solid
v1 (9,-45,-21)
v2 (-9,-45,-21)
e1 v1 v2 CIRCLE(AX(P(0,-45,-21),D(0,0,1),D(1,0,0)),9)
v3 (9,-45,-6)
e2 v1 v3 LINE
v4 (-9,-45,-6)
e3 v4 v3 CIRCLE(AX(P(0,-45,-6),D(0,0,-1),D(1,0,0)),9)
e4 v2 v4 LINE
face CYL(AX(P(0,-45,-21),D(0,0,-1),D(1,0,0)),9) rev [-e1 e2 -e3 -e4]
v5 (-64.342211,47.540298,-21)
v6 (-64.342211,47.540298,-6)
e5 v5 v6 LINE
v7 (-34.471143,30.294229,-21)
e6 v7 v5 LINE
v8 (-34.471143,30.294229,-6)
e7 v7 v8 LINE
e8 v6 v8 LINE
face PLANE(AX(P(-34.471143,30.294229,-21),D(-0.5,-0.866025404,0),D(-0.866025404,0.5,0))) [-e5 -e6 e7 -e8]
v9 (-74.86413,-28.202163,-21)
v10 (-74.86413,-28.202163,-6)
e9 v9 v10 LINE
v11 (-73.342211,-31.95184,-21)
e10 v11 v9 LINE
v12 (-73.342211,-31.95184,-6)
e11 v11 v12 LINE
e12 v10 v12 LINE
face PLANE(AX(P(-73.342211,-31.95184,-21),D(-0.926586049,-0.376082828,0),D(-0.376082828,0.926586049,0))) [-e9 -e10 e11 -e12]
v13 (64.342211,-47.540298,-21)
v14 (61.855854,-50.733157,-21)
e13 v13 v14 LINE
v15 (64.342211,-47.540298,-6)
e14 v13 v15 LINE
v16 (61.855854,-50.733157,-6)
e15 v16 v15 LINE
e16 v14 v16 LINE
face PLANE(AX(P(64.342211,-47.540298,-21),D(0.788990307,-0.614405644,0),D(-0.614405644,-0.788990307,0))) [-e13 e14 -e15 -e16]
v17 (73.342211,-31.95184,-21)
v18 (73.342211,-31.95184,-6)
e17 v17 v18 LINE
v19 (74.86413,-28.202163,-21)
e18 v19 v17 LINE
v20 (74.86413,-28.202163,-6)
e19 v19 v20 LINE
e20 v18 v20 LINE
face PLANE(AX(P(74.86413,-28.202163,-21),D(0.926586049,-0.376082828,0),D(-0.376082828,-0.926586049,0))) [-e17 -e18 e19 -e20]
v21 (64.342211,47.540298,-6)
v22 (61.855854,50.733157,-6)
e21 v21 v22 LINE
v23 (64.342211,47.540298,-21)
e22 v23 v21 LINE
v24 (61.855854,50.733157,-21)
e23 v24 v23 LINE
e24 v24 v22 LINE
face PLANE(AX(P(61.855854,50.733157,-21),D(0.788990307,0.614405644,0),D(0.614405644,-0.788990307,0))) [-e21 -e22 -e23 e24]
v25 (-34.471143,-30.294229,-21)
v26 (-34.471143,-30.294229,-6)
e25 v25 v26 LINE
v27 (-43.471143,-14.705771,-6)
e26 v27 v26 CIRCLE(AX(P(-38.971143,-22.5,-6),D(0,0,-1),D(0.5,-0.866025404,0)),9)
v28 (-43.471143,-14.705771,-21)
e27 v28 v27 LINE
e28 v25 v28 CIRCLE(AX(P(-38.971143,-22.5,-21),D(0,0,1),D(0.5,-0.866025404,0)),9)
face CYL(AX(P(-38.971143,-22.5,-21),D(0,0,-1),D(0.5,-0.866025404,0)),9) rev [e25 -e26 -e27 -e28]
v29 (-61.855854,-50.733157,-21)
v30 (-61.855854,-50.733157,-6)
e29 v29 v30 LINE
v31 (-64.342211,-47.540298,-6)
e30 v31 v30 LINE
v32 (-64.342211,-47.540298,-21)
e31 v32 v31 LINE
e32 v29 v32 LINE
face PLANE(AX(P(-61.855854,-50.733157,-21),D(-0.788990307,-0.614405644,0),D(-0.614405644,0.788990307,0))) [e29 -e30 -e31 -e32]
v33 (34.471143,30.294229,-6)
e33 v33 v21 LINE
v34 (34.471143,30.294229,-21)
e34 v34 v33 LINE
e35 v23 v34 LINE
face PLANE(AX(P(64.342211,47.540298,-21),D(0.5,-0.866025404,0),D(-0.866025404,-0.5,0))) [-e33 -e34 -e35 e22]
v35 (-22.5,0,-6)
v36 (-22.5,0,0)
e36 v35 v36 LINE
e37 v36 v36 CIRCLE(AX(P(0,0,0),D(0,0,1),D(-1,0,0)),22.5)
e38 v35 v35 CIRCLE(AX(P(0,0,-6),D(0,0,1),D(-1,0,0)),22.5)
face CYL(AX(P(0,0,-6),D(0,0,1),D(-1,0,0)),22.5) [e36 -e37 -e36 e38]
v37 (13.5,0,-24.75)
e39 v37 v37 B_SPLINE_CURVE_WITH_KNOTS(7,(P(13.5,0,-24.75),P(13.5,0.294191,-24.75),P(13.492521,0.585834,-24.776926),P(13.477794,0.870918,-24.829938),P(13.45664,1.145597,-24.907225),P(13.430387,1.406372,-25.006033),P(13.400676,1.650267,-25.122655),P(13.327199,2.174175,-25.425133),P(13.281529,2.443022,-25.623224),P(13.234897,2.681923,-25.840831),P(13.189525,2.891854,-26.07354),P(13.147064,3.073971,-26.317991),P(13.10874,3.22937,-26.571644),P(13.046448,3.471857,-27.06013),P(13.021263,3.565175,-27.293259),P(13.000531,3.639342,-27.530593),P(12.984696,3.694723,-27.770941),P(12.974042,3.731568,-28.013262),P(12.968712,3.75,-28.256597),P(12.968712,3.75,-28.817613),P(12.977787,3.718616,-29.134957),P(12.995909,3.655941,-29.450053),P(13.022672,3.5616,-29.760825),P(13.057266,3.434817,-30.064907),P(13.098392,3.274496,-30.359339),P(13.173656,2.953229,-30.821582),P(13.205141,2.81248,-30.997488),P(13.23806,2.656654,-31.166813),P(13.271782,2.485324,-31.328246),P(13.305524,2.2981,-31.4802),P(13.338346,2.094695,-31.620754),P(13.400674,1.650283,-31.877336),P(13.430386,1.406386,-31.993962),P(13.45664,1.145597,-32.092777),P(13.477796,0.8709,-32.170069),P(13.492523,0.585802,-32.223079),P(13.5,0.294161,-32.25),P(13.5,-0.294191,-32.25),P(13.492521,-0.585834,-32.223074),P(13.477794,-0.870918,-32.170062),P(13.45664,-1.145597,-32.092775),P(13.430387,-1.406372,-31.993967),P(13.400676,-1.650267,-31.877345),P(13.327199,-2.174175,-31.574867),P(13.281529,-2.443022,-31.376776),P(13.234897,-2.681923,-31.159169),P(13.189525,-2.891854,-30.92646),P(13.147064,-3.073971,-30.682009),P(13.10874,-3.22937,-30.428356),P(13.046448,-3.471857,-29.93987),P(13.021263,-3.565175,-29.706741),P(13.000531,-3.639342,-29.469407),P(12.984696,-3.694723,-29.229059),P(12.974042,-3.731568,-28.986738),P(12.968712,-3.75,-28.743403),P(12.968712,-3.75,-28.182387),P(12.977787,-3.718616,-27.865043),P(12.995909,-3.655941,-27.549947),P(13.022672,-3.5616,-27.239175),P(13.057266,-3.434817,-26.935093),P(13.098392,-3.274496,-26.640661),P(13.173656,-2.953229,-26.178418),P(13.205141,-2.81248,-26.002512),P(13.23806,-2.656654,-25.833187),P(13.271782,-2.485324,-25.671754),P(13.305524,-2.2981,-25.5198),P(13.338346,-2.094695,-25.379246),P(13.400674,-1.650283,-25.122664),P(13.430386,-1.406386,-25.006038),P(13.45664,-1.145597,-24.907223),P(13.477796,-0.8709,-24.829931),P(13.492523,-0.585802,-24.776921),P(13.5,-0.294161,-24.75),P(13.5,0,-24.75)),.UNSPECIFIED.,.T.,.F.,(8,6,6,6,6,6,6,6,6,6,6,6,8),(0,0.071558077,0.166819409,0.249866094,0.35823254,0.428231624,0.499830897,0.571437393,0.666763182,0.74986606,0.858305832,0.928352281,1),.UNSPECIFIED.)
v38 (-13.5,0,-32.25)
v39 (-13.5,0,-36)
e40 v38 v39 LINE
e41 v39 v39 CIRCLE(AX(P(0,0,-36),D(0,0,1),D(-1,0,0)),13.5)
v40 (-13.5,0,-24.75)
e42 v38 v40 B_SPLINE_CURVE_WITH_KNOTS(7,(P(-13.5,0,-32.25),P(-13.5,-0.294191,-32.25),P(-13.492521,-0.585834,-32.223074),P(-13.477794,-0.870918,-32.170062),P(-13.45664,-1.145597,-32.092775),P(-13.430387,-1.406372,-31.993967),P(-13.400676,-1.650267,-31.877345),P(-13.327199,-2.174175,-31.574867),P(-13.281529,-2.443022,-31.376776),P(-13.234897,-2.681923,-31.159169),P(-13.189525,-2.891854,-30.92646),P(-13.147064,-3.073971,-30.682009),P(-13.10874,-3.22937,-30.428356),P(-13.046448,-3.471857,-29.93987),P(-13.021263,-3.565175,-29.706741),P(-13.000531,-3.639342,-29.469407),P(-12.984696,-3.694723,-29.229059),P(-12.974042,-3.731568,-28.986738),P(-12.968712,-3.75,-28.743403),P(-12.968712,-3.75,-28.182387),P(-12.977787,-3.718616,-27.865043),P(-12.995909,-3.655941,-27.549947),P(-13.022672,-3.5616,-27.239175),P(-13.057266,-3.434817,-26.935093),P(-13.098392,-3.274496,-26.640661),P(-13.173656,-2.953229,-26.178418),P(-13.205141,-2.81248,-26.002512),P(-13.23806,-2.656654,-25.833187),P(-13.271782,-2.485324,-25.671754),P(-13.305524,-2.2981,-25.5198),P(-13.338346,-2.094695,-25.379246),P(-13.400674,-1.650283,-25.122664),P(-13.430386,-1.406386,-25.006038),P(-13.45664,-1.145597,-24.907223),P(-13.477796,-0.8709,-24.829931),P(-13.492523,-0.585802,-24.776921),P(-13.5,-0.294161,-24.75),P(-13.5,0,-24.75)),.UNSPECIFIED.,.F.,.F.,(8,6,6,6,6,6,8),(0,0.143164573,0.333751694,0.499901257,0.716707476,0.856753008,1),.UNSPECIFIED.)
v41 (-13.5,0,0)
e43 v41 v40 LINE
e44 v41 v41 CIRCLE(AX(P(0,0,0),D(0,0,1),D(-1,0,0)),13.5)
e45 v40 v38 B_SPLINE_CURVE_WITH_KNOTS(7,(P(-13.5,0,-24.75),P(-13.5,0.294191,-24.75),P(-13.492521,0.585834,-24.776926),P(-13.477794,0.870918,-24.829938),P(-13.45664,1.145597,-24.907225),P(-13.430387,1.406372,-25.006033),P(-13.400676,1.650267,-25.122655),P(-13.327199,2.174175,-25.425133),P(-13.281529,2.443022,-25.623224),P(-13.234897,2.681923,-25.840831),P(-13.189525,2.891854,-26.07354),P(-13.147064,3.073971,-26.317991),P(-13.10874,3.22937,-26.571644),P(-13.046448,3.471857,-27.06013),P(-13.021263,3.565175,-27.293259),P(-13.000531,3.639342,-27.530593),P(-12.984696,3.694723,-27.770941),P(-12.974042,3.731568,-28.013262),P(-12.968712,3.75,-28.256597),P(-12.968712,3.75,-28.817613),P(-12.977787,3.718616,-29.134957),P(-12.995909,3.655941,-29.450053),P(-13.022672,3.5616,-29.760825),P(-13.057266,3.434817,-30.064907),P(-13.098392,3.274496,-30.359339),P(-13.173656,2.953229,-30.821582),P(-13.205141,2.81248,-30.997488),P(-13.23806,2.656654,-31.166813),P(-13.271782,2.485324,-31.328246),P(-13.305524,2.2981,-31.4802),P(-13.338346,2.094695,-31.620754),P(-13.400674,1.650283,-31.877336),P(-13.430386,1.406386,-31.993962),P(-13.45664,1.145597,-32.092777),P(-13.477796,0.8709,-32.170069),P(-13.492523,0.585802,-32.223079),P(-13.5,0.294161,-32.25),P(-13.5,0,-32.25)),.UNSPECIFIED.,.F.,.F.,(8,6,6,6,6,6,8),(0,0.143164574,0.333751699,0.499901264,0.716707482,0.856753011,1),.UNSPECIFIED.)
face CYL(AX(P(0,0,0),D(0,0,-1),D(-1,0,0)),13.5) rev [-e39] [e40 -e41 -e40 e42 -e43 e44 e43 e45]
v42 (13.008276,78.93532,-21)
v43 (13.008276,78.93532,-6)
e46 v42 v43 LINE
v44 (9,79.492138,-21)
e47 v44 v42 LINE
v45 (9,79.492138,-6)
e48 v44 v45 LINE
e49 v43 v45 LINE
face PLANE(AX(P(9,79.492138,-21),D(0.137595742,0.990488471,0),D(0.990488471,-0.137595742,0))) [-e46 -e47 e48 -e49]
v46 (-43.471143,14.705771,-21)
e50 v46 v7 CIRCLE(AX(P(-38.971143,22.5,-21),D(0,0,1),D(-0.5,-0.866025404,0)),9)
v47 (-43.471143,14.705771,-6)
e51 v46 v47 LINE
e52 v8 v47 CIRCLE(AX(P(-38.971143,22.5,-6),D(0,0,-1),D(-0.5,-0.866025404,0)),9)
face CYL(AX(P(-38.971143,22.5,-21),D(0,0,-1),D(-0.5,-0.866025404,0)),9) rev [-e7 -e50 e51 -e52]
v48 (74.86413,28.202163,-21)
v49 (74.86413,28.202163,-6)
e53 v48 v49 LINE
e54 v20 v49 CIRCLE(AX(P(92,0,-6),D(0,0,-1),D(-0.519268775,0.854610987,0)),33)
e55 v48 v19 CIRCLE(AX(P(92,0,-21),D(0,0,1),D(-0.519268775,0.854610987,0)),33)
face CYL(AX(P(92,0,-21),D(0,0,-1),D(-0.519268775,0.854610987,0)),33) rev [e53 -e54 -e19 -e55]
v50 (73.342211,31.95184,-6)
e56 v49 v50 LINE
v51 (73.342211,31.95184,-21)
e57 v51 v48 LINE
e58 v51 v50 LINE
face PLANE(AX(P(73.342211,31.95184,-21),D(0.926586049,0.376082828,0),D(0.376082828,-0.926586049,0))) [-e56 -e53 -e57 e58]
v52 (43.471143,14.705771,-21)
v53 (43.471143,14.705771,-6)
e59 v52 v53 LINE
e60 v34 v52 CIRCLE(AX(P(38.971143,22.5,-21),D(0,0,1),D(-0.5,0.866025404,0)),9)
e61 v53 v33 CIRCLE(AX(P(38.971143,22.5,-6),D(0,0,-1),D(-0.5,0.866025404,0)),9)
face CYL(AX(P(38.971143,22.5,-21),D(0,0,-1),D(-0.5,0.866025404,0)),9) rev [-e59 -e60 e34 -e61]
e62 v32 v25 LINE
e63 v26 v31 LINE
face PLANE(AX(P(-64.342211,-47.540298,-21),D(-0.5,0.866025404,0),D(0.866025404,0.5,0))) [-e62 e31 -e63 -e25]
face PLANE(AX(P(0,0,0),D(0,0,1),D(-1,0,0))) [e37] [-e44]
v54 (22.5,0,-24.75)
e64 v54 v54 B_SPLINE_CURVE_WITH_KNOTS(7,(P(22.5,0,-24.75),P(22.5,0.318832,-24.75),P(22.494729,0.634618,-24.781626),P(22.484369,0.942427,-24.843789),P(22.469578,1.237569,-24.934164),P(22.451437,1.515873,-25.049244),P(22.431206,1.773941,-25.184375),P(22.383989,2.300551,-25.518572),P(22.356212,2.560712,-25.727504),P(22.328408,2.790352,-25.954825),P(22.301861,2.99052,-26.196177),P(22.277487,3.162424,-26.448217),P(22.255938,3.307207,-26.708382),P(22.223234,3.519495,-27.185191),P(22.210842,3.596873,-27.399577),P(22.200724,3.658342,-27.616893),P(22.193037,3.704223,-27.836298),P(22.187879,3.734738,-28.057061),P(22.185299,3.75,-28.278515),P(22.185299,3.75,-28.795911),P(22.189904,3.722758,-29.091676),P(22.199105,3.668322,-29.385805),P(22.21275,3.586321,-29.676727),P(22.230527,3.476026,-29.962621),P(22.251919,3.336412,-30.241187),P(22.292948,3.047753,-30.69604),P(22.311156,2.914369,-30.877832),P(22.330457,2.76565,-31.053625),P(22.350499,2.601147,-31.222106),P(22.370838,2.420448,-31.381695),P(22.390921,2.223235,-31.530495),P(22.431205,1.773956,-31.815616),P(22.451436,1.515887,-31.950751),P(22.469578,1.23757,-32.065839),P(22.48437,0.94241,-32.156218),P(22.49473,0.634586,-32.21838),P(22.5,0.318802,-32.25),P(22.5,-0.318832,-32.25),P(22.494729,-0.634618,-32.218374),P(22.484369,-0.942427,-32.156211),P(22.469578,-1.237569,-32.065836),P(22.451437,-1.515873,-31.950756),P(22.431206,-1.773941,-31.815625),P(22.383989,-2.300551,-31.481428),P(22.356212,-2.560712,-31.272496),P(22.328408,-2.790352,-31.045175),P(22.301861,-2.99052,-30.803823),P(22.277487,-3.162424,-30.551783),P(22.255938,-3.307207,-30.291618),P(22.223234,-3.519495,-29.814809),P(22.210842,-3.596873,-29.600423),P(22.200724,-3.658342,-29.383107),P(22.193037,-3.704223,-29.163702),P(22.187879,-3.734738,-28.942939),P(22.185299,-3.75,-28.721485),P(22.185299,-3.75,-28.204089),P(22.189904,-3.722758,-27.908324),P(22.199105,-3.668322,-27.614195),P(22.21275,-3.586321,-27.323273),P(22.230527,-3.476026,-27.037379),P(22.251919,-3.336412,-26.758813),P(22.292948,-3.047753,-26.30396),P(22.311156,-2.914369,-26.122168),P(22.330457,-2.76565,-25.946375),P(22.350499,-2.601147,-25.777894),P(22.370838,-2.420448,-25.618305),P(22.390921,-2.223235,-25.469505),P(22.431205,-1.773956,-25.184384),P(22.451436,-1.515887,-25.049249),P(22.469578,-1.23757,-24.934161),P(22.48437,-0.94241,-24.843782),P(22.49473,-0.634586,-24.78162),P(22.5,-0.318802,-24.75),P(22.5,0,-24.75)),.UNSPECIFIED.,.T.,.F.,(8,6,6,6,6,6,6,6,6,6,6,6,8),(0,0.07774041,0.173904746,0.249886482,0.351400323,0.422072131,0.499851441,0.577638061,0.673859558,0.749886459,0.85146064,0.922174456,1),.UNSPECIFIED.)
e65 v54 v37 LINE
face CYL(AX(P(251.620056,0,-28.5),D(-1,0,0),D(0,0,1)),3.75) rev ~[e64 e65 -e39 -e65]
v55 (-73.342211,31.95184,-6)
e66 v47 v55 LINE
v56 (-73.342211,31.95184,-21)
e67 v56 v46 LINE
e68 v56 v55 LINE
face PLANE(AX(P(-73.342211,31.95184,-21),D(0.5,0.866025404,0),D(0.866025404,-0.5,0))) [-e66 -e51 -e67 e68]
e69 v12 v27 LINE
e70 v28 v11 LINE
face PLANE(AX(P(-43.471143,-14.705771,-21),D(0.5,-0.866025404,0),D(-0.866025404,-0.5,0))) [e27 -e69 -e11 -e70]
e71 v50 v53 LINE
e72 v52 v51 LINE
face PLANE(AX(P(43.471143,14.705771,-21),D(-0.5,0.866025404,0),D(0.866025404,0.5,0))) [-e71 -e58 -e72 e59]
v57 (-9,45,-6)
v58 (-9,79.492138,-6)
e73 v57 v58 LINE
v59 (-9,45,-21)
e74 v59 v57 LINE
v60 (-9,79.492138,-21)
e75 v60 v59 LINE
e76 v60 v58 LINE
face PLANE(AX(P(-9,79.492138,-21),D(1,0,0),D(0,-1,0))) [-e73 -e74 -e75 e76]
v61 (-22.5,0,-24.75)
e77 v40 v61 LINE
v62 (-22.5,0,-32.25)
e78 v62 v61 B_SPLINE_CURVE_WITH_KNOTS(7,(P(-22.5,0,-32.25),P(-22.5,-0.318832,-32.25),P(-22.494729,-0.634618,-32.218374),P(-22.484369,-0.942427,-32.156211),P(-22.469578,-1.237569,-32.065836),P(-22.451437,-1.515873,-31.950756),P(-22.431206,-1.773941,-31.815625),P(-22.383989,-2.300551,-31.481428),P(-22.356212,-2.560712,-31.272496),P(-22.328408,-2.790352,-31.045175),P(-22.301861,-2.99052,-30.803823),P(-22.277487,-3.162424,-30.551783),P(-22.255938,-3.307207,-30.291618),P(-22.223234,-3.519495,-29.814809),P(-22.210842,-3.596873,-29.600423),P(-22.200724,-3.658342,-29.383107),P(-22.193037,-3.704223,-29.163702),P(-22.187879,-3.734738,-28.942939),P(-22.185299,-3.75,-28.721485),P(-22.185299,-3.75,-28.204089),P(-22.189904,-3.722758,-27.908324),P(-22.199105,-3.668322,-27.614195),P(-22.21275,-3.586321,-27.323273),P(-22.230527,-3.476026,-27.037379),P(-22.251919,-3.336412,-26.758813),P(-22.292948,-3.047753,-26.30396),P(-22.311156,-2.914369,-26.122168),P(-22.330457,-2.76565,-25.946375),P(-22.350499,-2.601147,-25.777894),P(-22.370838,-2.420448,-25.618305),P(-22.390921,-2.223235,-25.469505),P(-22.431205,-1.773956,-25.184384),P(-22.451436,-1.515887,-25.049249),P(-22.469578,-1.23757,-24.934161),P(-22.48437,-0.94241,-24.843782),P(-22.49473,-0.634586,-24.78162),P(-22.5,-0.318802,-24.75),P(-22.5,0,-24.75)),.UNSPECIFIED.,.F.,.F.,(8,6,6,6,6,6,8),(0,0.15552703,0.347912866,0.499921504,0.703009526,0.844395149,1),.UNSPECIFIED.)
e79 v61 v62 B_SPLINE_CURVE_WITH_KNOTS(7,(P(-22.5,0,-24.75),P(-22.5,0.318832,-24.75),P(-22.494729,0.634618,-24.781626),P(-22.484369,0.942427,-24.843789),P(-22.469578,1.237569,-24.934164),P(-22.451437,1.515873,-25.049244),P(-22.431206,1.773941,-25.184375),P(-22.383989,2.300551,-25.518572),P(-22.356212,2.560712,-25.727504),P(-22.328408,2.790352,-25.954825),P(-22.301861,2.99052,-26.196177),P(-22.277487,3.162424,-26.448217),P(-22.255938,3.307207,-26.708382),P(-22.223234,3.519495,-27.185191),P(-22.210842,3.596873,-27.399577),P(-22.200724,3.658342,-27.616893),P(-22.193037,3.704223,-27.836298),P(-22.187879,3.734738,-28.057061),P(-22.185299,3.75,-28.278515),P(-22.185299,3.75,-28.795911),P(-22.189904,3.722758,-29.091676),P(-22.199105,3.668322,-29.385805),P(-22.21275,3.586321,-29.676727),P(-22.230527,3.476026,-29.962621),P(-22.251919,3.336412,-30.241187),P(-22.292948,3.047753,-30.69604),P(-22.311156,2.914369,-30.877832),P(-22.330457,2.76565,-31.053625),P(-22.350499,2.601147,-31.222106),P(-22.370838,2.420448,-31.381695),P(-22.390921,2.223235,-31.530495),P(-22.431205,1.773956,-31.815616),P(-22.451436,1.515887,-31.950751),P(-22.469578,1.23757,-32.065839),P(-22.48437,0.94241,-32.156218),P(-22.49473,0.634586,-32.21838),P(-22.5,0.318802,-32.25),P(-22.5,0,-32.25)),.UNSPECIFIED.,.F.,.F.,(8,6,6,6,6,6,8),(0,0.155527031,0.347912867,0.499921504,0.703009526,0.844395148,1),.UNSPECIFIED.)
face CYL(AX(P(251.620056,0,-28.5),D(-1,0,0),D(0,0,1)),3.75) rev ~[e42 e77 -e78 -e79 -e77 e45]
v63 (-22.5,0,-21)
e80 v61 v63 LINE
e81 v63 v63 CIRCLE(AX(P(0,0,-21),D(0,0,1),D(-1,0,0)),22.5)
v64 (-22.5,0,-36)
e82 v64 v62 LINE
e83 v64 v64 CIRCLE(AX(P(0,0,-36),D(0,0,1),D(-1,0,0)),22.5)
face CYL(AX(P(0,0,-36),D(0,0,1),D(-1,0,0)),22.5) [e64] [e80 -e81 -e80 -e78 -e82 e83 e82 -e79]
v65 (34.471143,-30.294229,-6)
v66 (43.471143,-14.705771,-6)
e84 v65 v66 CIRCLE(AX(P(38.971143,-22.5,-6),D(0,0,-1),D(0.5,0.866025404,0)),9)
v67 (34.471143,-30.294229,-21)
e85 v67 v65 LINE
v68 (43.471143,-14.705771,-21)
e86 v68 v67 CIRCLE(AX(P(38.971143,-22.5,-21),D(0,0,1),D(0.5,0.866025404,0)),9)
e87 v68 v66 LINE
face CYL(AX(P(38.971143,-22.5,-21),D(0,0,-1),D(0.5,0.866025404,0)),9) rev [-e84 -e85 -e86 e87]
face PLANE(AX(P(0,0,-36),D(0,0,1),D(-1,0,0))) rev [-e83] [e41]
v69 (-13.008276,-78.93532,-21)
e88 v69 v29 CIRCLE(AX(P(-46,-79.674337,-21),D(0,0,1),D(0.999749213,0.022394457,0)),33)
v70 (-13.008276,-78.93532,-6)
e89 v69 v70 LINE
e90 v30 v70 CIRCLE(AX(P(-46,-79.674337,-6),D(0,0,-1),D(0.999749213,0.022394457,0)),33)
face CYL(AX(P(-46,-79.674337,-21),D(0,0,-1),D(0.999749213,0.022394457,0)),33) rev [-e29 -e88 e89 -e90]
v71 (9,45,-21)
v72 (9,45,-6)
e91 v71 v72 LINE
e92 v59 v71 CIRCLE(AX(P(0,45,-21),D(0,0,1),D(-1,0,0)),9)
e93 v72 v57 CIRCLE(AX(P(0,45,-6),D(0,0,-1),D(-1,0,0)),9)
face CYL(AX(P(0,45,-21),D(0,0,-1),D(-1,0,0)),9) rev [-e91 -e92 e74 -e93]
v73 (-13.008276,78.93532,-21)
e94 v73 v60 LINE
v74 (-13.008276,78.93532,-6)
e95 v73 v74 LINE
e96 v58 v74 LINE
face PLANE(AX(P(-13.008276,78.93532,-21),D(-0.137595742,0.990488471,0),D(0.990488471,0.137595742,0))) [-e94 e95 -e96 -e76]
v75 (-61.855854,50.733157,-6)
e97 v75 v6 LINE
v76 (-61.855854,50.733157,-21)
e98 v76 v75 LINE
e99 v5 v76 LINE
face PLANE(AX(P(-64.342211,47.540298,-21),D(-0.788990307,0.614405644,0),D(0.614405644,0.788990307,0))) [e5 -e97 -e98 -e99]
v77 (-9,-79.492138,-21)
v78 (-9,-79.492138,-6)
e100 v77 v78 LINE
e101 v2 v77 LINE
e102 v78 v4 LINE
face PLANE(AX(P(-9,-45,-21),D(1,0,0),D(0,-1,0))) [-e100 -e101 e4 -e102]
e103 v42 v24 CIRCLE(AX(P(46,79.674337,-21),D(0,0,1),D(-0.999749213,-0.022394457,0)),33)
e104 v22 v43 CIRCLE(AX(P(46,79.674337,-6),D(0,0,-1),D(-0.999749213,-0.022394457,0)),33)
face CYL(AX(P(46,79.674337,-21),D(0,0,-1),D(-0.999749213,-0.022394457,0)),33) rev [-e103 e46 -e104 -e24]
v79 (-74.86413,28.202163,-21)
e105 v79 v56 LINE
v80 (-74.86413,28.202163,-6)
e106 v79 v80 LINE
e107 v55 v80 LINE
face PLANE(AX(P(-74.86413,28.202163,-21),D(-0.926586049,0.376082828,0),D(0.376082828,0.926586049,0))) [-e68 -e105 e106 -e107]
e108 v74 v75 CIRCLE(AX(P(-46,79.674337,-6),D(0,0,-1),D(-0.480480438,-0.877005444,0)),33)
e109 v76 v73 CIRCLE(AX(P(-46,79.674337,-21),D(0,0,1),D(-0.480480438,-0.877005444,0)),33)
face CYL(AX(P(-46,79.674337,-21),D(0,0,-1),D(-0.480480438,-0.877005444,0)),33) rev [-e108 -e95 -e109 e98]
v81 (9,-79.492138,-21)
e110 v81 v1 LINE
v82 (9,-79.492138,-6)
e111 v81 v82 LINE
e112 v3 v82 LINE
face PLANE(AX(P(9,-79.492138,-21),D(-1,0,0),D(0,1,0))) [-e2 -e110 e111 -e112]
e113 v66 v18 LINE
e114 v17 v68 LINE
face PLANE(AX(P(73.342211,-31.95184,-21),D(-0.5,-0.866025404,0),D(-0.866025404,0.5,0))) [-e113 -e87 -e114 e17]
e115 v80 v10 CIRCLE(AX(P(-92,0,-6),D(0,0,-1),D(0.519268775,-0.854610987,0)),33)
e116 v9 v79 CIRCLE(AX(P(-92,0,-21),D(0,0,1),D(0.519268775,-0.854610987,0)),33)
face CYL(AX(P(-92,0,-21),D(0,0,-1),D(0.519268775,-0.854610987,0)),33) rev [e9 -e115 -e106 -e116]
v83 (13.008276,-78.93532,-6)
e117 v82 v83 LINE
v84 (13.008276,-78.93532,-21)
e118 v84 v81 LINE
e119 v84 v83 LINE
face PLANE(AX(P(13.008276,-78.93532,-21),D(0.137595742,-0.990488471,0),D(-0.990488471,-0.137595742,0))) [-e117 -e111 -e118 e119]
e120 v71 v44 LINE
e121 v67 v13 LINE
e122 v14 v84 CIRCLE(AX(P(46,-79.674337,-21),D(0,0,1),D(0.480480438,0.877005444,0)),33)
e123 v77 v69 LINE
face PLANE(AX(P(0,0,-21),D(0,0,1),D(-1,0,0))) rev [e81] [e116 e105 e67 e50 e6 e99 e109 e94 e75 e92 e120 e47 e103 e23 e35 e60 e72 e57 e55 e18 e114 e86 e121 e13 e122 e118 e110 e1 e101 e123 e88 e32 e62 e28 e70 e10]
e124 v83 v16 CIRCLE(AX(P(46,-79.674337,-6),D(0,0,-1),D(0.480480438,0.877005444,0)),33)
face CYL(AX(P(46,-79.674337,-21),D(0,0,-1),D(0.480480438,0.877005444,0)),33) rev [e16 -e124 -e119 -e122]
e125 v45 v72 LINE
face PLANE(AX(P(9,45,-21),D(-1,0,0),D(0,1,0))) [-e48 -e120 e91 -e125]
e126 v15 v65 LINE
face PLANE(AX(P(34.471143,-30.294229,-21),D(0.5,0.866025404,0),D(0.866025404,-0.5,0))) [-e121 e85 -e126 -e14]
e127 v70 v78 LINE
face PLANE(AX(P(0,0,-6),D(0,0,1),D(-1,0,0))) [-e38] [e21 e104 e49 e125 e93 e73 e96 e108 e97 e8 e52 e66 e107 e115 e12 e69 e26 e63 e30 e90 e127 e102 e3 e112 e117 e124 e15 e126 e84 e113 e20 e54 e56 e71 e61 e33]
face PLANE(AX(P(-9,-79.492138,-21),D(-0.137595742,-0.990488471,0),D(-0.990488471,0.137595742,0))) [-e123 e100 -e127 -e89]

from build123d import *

# Parameters (mm, degrees)
FORO_7_5_7_5_1_D         = 7.5
SCHIZZO9_OUTSIDE_W       = 207.824
SCHIZZO9_OUTSIDE_H       = 207.824
TAGLIO_ESTRUSIONE1_DEPTH = 116.069544208


with BuildPart() as part:
    # Schizzo6 → Rivoluzione1 (revolve)
    with BuildSketch(Plane(origin=(0, 0, 0), x_dir=(1, 0, 0), z_dir=(0, 1, 0)), mode=Mode.PRIVATE) as rivoluzione1_sk:
        Polygon((13.5, 0), (13.5, 36), (22.5, 36), (22.5, 21), (80, 21), (80, 6), (22.5, 6), (22.5, 0), align=None)
    revolve(rivoluzione1_sk.sketch.rotate(Axis((0, 0, -47.894415312), (0, 0, 1)), 180), axis=Axis((0, 0, -47.894415312), (0, 0, 1)))

    # Foro Ø7.5 (7.5)-1 (through all)
    with Locations(Plane(origin=(22.5, 0, 0), x_dir=(0, 0, -1), z_dir=(1, 0, 0))):
        with Locations((28.5, 0)):
            Hole(FORO_7_5_7_5_1_D / 2)

    # Schizzo9 outside → Taglio-Estrusione1 (cut, through all)
    with BuildSketch(Plane(origin=(0, 0, -21), x_dir=(-1, 0, 0), z_dir=(0, 0, -1))):
        Rectangle(SCHIZZO9_OUTSIDE_W, SCHIZZO9_OUTSIDE_H)
        with BuildLine():
            Line((9, 79.492137976), (9, 45))
            ThreePointArc((9, 45), (0, 36), (-9, 45))
            Line((-9, 45), (-9, 79.492137976))
            Line((-9, 79.492137976), (-13.008275981, 78.935320079))
            ThreePointArc((-13.008275981, 78.935320079), (-29.5, 51.095498823), (-61.855854454, 50.733157498))
            Line((-61.855854454, 50.733157498), (-64.342210888, 47.540297622))
            Line((-64.342210888, 47.540297622), (-34.47114317, 30.294228634))
            ThreePointArc((-34.47114317, 30.294228634), (-31.176914536, 18), (-43.47114317, 14.705771366))
            Line((-43.47114317, 14.705771366), (-73.342210888, 31.951840354))
            Line((-73.342210888, 31.951840354), (-74.864130435, 28.202162581))
            ThreePointArc((-74.864130435, 28.202162581), (-59, 0), (-74.864130435, -28.202162581))
            Line((-74.864130435, -28.202162581), (-73.342210888, -31.951840354))
            Line((-73.342210888, -31.951840354), (-43.47114317, -14.705771366))
            ThreePointArc((-43.47114317, -14.705771366), (-31.176914536, -18), (-34.47114317, -30.294228634))
            Line((-34.47114317, -30.294228634), (-64.342210888, -47.540297622))
            Line((-64.342210888, -47.540297622), (-61.855854454, -50.733157498))
            ThreePointArc((-61.855854454, -50.733157498), (-29.5, -51.095498823), (-13.008275981, -78.935320079))
            Line((-13.008275981, -78.935320079), (-9, -79.492137976))
            Line((-9, -79.492137976), (-9, -45))
            ThreePointArc((-9, -45), (0, -36), (9, -45))
            Line((9, -45), (9, -79.492137976))
            Line((9, -79.492137976), (13.008275981, -78.935320079))
            ThreePointArc((13.008275981, -78.935320079), (29.5, -51.095498823), (61.855854454, -50.733157498))
            Line((61.855854454, -50.733157498), (64.342210888, -47.540297622))
            Line((64.342210888, -47.540297622), (34.47114317, -30.294228634))
            ThreePointArc((34.47114317, -30.294228634), (31.176914536, -18), (43.47114317, -14.705771366))
            Line((43.47114317, -14.705771366), (73.342210888, -31.951840354))
            Line((73.342210888, -31.951840354), (74.864130435, -28.202162581))
            ThreePointArc((74.864130435, -28.202162581), (59, 0), (74.864130435, 28.202162581))
            Line((74.864130435, 28.202162581), (73.342210888, 31.951840354))
            Line((73.342210888, 31.951840354), (43.47114317, 14.705771366))
            ThreePointArc((43.47114317, 14.705771366), (31.176914536, 18), (34.47114317, 30.294228634))
            Line((34.47114317, 30.294228634), (64.342210888, 47.540297622))
            Line((64.342210888, 47.540297622), (61.855854454, 50.733157498))
            ThreePointArc((61.855854454, 50.733157498), (29.5, 51.095498823), (13.008275981, 78.935320079))
            Line((13.008275981, 78.935320079), (9, 79.492137976))
        make_face(mode=Mode.SUBTRACT)
    extrude(amount=-TAGLIO_ESTRUSIONE1_DEPTH, mode=Mode.SUBTRACT)


solid = part.part
